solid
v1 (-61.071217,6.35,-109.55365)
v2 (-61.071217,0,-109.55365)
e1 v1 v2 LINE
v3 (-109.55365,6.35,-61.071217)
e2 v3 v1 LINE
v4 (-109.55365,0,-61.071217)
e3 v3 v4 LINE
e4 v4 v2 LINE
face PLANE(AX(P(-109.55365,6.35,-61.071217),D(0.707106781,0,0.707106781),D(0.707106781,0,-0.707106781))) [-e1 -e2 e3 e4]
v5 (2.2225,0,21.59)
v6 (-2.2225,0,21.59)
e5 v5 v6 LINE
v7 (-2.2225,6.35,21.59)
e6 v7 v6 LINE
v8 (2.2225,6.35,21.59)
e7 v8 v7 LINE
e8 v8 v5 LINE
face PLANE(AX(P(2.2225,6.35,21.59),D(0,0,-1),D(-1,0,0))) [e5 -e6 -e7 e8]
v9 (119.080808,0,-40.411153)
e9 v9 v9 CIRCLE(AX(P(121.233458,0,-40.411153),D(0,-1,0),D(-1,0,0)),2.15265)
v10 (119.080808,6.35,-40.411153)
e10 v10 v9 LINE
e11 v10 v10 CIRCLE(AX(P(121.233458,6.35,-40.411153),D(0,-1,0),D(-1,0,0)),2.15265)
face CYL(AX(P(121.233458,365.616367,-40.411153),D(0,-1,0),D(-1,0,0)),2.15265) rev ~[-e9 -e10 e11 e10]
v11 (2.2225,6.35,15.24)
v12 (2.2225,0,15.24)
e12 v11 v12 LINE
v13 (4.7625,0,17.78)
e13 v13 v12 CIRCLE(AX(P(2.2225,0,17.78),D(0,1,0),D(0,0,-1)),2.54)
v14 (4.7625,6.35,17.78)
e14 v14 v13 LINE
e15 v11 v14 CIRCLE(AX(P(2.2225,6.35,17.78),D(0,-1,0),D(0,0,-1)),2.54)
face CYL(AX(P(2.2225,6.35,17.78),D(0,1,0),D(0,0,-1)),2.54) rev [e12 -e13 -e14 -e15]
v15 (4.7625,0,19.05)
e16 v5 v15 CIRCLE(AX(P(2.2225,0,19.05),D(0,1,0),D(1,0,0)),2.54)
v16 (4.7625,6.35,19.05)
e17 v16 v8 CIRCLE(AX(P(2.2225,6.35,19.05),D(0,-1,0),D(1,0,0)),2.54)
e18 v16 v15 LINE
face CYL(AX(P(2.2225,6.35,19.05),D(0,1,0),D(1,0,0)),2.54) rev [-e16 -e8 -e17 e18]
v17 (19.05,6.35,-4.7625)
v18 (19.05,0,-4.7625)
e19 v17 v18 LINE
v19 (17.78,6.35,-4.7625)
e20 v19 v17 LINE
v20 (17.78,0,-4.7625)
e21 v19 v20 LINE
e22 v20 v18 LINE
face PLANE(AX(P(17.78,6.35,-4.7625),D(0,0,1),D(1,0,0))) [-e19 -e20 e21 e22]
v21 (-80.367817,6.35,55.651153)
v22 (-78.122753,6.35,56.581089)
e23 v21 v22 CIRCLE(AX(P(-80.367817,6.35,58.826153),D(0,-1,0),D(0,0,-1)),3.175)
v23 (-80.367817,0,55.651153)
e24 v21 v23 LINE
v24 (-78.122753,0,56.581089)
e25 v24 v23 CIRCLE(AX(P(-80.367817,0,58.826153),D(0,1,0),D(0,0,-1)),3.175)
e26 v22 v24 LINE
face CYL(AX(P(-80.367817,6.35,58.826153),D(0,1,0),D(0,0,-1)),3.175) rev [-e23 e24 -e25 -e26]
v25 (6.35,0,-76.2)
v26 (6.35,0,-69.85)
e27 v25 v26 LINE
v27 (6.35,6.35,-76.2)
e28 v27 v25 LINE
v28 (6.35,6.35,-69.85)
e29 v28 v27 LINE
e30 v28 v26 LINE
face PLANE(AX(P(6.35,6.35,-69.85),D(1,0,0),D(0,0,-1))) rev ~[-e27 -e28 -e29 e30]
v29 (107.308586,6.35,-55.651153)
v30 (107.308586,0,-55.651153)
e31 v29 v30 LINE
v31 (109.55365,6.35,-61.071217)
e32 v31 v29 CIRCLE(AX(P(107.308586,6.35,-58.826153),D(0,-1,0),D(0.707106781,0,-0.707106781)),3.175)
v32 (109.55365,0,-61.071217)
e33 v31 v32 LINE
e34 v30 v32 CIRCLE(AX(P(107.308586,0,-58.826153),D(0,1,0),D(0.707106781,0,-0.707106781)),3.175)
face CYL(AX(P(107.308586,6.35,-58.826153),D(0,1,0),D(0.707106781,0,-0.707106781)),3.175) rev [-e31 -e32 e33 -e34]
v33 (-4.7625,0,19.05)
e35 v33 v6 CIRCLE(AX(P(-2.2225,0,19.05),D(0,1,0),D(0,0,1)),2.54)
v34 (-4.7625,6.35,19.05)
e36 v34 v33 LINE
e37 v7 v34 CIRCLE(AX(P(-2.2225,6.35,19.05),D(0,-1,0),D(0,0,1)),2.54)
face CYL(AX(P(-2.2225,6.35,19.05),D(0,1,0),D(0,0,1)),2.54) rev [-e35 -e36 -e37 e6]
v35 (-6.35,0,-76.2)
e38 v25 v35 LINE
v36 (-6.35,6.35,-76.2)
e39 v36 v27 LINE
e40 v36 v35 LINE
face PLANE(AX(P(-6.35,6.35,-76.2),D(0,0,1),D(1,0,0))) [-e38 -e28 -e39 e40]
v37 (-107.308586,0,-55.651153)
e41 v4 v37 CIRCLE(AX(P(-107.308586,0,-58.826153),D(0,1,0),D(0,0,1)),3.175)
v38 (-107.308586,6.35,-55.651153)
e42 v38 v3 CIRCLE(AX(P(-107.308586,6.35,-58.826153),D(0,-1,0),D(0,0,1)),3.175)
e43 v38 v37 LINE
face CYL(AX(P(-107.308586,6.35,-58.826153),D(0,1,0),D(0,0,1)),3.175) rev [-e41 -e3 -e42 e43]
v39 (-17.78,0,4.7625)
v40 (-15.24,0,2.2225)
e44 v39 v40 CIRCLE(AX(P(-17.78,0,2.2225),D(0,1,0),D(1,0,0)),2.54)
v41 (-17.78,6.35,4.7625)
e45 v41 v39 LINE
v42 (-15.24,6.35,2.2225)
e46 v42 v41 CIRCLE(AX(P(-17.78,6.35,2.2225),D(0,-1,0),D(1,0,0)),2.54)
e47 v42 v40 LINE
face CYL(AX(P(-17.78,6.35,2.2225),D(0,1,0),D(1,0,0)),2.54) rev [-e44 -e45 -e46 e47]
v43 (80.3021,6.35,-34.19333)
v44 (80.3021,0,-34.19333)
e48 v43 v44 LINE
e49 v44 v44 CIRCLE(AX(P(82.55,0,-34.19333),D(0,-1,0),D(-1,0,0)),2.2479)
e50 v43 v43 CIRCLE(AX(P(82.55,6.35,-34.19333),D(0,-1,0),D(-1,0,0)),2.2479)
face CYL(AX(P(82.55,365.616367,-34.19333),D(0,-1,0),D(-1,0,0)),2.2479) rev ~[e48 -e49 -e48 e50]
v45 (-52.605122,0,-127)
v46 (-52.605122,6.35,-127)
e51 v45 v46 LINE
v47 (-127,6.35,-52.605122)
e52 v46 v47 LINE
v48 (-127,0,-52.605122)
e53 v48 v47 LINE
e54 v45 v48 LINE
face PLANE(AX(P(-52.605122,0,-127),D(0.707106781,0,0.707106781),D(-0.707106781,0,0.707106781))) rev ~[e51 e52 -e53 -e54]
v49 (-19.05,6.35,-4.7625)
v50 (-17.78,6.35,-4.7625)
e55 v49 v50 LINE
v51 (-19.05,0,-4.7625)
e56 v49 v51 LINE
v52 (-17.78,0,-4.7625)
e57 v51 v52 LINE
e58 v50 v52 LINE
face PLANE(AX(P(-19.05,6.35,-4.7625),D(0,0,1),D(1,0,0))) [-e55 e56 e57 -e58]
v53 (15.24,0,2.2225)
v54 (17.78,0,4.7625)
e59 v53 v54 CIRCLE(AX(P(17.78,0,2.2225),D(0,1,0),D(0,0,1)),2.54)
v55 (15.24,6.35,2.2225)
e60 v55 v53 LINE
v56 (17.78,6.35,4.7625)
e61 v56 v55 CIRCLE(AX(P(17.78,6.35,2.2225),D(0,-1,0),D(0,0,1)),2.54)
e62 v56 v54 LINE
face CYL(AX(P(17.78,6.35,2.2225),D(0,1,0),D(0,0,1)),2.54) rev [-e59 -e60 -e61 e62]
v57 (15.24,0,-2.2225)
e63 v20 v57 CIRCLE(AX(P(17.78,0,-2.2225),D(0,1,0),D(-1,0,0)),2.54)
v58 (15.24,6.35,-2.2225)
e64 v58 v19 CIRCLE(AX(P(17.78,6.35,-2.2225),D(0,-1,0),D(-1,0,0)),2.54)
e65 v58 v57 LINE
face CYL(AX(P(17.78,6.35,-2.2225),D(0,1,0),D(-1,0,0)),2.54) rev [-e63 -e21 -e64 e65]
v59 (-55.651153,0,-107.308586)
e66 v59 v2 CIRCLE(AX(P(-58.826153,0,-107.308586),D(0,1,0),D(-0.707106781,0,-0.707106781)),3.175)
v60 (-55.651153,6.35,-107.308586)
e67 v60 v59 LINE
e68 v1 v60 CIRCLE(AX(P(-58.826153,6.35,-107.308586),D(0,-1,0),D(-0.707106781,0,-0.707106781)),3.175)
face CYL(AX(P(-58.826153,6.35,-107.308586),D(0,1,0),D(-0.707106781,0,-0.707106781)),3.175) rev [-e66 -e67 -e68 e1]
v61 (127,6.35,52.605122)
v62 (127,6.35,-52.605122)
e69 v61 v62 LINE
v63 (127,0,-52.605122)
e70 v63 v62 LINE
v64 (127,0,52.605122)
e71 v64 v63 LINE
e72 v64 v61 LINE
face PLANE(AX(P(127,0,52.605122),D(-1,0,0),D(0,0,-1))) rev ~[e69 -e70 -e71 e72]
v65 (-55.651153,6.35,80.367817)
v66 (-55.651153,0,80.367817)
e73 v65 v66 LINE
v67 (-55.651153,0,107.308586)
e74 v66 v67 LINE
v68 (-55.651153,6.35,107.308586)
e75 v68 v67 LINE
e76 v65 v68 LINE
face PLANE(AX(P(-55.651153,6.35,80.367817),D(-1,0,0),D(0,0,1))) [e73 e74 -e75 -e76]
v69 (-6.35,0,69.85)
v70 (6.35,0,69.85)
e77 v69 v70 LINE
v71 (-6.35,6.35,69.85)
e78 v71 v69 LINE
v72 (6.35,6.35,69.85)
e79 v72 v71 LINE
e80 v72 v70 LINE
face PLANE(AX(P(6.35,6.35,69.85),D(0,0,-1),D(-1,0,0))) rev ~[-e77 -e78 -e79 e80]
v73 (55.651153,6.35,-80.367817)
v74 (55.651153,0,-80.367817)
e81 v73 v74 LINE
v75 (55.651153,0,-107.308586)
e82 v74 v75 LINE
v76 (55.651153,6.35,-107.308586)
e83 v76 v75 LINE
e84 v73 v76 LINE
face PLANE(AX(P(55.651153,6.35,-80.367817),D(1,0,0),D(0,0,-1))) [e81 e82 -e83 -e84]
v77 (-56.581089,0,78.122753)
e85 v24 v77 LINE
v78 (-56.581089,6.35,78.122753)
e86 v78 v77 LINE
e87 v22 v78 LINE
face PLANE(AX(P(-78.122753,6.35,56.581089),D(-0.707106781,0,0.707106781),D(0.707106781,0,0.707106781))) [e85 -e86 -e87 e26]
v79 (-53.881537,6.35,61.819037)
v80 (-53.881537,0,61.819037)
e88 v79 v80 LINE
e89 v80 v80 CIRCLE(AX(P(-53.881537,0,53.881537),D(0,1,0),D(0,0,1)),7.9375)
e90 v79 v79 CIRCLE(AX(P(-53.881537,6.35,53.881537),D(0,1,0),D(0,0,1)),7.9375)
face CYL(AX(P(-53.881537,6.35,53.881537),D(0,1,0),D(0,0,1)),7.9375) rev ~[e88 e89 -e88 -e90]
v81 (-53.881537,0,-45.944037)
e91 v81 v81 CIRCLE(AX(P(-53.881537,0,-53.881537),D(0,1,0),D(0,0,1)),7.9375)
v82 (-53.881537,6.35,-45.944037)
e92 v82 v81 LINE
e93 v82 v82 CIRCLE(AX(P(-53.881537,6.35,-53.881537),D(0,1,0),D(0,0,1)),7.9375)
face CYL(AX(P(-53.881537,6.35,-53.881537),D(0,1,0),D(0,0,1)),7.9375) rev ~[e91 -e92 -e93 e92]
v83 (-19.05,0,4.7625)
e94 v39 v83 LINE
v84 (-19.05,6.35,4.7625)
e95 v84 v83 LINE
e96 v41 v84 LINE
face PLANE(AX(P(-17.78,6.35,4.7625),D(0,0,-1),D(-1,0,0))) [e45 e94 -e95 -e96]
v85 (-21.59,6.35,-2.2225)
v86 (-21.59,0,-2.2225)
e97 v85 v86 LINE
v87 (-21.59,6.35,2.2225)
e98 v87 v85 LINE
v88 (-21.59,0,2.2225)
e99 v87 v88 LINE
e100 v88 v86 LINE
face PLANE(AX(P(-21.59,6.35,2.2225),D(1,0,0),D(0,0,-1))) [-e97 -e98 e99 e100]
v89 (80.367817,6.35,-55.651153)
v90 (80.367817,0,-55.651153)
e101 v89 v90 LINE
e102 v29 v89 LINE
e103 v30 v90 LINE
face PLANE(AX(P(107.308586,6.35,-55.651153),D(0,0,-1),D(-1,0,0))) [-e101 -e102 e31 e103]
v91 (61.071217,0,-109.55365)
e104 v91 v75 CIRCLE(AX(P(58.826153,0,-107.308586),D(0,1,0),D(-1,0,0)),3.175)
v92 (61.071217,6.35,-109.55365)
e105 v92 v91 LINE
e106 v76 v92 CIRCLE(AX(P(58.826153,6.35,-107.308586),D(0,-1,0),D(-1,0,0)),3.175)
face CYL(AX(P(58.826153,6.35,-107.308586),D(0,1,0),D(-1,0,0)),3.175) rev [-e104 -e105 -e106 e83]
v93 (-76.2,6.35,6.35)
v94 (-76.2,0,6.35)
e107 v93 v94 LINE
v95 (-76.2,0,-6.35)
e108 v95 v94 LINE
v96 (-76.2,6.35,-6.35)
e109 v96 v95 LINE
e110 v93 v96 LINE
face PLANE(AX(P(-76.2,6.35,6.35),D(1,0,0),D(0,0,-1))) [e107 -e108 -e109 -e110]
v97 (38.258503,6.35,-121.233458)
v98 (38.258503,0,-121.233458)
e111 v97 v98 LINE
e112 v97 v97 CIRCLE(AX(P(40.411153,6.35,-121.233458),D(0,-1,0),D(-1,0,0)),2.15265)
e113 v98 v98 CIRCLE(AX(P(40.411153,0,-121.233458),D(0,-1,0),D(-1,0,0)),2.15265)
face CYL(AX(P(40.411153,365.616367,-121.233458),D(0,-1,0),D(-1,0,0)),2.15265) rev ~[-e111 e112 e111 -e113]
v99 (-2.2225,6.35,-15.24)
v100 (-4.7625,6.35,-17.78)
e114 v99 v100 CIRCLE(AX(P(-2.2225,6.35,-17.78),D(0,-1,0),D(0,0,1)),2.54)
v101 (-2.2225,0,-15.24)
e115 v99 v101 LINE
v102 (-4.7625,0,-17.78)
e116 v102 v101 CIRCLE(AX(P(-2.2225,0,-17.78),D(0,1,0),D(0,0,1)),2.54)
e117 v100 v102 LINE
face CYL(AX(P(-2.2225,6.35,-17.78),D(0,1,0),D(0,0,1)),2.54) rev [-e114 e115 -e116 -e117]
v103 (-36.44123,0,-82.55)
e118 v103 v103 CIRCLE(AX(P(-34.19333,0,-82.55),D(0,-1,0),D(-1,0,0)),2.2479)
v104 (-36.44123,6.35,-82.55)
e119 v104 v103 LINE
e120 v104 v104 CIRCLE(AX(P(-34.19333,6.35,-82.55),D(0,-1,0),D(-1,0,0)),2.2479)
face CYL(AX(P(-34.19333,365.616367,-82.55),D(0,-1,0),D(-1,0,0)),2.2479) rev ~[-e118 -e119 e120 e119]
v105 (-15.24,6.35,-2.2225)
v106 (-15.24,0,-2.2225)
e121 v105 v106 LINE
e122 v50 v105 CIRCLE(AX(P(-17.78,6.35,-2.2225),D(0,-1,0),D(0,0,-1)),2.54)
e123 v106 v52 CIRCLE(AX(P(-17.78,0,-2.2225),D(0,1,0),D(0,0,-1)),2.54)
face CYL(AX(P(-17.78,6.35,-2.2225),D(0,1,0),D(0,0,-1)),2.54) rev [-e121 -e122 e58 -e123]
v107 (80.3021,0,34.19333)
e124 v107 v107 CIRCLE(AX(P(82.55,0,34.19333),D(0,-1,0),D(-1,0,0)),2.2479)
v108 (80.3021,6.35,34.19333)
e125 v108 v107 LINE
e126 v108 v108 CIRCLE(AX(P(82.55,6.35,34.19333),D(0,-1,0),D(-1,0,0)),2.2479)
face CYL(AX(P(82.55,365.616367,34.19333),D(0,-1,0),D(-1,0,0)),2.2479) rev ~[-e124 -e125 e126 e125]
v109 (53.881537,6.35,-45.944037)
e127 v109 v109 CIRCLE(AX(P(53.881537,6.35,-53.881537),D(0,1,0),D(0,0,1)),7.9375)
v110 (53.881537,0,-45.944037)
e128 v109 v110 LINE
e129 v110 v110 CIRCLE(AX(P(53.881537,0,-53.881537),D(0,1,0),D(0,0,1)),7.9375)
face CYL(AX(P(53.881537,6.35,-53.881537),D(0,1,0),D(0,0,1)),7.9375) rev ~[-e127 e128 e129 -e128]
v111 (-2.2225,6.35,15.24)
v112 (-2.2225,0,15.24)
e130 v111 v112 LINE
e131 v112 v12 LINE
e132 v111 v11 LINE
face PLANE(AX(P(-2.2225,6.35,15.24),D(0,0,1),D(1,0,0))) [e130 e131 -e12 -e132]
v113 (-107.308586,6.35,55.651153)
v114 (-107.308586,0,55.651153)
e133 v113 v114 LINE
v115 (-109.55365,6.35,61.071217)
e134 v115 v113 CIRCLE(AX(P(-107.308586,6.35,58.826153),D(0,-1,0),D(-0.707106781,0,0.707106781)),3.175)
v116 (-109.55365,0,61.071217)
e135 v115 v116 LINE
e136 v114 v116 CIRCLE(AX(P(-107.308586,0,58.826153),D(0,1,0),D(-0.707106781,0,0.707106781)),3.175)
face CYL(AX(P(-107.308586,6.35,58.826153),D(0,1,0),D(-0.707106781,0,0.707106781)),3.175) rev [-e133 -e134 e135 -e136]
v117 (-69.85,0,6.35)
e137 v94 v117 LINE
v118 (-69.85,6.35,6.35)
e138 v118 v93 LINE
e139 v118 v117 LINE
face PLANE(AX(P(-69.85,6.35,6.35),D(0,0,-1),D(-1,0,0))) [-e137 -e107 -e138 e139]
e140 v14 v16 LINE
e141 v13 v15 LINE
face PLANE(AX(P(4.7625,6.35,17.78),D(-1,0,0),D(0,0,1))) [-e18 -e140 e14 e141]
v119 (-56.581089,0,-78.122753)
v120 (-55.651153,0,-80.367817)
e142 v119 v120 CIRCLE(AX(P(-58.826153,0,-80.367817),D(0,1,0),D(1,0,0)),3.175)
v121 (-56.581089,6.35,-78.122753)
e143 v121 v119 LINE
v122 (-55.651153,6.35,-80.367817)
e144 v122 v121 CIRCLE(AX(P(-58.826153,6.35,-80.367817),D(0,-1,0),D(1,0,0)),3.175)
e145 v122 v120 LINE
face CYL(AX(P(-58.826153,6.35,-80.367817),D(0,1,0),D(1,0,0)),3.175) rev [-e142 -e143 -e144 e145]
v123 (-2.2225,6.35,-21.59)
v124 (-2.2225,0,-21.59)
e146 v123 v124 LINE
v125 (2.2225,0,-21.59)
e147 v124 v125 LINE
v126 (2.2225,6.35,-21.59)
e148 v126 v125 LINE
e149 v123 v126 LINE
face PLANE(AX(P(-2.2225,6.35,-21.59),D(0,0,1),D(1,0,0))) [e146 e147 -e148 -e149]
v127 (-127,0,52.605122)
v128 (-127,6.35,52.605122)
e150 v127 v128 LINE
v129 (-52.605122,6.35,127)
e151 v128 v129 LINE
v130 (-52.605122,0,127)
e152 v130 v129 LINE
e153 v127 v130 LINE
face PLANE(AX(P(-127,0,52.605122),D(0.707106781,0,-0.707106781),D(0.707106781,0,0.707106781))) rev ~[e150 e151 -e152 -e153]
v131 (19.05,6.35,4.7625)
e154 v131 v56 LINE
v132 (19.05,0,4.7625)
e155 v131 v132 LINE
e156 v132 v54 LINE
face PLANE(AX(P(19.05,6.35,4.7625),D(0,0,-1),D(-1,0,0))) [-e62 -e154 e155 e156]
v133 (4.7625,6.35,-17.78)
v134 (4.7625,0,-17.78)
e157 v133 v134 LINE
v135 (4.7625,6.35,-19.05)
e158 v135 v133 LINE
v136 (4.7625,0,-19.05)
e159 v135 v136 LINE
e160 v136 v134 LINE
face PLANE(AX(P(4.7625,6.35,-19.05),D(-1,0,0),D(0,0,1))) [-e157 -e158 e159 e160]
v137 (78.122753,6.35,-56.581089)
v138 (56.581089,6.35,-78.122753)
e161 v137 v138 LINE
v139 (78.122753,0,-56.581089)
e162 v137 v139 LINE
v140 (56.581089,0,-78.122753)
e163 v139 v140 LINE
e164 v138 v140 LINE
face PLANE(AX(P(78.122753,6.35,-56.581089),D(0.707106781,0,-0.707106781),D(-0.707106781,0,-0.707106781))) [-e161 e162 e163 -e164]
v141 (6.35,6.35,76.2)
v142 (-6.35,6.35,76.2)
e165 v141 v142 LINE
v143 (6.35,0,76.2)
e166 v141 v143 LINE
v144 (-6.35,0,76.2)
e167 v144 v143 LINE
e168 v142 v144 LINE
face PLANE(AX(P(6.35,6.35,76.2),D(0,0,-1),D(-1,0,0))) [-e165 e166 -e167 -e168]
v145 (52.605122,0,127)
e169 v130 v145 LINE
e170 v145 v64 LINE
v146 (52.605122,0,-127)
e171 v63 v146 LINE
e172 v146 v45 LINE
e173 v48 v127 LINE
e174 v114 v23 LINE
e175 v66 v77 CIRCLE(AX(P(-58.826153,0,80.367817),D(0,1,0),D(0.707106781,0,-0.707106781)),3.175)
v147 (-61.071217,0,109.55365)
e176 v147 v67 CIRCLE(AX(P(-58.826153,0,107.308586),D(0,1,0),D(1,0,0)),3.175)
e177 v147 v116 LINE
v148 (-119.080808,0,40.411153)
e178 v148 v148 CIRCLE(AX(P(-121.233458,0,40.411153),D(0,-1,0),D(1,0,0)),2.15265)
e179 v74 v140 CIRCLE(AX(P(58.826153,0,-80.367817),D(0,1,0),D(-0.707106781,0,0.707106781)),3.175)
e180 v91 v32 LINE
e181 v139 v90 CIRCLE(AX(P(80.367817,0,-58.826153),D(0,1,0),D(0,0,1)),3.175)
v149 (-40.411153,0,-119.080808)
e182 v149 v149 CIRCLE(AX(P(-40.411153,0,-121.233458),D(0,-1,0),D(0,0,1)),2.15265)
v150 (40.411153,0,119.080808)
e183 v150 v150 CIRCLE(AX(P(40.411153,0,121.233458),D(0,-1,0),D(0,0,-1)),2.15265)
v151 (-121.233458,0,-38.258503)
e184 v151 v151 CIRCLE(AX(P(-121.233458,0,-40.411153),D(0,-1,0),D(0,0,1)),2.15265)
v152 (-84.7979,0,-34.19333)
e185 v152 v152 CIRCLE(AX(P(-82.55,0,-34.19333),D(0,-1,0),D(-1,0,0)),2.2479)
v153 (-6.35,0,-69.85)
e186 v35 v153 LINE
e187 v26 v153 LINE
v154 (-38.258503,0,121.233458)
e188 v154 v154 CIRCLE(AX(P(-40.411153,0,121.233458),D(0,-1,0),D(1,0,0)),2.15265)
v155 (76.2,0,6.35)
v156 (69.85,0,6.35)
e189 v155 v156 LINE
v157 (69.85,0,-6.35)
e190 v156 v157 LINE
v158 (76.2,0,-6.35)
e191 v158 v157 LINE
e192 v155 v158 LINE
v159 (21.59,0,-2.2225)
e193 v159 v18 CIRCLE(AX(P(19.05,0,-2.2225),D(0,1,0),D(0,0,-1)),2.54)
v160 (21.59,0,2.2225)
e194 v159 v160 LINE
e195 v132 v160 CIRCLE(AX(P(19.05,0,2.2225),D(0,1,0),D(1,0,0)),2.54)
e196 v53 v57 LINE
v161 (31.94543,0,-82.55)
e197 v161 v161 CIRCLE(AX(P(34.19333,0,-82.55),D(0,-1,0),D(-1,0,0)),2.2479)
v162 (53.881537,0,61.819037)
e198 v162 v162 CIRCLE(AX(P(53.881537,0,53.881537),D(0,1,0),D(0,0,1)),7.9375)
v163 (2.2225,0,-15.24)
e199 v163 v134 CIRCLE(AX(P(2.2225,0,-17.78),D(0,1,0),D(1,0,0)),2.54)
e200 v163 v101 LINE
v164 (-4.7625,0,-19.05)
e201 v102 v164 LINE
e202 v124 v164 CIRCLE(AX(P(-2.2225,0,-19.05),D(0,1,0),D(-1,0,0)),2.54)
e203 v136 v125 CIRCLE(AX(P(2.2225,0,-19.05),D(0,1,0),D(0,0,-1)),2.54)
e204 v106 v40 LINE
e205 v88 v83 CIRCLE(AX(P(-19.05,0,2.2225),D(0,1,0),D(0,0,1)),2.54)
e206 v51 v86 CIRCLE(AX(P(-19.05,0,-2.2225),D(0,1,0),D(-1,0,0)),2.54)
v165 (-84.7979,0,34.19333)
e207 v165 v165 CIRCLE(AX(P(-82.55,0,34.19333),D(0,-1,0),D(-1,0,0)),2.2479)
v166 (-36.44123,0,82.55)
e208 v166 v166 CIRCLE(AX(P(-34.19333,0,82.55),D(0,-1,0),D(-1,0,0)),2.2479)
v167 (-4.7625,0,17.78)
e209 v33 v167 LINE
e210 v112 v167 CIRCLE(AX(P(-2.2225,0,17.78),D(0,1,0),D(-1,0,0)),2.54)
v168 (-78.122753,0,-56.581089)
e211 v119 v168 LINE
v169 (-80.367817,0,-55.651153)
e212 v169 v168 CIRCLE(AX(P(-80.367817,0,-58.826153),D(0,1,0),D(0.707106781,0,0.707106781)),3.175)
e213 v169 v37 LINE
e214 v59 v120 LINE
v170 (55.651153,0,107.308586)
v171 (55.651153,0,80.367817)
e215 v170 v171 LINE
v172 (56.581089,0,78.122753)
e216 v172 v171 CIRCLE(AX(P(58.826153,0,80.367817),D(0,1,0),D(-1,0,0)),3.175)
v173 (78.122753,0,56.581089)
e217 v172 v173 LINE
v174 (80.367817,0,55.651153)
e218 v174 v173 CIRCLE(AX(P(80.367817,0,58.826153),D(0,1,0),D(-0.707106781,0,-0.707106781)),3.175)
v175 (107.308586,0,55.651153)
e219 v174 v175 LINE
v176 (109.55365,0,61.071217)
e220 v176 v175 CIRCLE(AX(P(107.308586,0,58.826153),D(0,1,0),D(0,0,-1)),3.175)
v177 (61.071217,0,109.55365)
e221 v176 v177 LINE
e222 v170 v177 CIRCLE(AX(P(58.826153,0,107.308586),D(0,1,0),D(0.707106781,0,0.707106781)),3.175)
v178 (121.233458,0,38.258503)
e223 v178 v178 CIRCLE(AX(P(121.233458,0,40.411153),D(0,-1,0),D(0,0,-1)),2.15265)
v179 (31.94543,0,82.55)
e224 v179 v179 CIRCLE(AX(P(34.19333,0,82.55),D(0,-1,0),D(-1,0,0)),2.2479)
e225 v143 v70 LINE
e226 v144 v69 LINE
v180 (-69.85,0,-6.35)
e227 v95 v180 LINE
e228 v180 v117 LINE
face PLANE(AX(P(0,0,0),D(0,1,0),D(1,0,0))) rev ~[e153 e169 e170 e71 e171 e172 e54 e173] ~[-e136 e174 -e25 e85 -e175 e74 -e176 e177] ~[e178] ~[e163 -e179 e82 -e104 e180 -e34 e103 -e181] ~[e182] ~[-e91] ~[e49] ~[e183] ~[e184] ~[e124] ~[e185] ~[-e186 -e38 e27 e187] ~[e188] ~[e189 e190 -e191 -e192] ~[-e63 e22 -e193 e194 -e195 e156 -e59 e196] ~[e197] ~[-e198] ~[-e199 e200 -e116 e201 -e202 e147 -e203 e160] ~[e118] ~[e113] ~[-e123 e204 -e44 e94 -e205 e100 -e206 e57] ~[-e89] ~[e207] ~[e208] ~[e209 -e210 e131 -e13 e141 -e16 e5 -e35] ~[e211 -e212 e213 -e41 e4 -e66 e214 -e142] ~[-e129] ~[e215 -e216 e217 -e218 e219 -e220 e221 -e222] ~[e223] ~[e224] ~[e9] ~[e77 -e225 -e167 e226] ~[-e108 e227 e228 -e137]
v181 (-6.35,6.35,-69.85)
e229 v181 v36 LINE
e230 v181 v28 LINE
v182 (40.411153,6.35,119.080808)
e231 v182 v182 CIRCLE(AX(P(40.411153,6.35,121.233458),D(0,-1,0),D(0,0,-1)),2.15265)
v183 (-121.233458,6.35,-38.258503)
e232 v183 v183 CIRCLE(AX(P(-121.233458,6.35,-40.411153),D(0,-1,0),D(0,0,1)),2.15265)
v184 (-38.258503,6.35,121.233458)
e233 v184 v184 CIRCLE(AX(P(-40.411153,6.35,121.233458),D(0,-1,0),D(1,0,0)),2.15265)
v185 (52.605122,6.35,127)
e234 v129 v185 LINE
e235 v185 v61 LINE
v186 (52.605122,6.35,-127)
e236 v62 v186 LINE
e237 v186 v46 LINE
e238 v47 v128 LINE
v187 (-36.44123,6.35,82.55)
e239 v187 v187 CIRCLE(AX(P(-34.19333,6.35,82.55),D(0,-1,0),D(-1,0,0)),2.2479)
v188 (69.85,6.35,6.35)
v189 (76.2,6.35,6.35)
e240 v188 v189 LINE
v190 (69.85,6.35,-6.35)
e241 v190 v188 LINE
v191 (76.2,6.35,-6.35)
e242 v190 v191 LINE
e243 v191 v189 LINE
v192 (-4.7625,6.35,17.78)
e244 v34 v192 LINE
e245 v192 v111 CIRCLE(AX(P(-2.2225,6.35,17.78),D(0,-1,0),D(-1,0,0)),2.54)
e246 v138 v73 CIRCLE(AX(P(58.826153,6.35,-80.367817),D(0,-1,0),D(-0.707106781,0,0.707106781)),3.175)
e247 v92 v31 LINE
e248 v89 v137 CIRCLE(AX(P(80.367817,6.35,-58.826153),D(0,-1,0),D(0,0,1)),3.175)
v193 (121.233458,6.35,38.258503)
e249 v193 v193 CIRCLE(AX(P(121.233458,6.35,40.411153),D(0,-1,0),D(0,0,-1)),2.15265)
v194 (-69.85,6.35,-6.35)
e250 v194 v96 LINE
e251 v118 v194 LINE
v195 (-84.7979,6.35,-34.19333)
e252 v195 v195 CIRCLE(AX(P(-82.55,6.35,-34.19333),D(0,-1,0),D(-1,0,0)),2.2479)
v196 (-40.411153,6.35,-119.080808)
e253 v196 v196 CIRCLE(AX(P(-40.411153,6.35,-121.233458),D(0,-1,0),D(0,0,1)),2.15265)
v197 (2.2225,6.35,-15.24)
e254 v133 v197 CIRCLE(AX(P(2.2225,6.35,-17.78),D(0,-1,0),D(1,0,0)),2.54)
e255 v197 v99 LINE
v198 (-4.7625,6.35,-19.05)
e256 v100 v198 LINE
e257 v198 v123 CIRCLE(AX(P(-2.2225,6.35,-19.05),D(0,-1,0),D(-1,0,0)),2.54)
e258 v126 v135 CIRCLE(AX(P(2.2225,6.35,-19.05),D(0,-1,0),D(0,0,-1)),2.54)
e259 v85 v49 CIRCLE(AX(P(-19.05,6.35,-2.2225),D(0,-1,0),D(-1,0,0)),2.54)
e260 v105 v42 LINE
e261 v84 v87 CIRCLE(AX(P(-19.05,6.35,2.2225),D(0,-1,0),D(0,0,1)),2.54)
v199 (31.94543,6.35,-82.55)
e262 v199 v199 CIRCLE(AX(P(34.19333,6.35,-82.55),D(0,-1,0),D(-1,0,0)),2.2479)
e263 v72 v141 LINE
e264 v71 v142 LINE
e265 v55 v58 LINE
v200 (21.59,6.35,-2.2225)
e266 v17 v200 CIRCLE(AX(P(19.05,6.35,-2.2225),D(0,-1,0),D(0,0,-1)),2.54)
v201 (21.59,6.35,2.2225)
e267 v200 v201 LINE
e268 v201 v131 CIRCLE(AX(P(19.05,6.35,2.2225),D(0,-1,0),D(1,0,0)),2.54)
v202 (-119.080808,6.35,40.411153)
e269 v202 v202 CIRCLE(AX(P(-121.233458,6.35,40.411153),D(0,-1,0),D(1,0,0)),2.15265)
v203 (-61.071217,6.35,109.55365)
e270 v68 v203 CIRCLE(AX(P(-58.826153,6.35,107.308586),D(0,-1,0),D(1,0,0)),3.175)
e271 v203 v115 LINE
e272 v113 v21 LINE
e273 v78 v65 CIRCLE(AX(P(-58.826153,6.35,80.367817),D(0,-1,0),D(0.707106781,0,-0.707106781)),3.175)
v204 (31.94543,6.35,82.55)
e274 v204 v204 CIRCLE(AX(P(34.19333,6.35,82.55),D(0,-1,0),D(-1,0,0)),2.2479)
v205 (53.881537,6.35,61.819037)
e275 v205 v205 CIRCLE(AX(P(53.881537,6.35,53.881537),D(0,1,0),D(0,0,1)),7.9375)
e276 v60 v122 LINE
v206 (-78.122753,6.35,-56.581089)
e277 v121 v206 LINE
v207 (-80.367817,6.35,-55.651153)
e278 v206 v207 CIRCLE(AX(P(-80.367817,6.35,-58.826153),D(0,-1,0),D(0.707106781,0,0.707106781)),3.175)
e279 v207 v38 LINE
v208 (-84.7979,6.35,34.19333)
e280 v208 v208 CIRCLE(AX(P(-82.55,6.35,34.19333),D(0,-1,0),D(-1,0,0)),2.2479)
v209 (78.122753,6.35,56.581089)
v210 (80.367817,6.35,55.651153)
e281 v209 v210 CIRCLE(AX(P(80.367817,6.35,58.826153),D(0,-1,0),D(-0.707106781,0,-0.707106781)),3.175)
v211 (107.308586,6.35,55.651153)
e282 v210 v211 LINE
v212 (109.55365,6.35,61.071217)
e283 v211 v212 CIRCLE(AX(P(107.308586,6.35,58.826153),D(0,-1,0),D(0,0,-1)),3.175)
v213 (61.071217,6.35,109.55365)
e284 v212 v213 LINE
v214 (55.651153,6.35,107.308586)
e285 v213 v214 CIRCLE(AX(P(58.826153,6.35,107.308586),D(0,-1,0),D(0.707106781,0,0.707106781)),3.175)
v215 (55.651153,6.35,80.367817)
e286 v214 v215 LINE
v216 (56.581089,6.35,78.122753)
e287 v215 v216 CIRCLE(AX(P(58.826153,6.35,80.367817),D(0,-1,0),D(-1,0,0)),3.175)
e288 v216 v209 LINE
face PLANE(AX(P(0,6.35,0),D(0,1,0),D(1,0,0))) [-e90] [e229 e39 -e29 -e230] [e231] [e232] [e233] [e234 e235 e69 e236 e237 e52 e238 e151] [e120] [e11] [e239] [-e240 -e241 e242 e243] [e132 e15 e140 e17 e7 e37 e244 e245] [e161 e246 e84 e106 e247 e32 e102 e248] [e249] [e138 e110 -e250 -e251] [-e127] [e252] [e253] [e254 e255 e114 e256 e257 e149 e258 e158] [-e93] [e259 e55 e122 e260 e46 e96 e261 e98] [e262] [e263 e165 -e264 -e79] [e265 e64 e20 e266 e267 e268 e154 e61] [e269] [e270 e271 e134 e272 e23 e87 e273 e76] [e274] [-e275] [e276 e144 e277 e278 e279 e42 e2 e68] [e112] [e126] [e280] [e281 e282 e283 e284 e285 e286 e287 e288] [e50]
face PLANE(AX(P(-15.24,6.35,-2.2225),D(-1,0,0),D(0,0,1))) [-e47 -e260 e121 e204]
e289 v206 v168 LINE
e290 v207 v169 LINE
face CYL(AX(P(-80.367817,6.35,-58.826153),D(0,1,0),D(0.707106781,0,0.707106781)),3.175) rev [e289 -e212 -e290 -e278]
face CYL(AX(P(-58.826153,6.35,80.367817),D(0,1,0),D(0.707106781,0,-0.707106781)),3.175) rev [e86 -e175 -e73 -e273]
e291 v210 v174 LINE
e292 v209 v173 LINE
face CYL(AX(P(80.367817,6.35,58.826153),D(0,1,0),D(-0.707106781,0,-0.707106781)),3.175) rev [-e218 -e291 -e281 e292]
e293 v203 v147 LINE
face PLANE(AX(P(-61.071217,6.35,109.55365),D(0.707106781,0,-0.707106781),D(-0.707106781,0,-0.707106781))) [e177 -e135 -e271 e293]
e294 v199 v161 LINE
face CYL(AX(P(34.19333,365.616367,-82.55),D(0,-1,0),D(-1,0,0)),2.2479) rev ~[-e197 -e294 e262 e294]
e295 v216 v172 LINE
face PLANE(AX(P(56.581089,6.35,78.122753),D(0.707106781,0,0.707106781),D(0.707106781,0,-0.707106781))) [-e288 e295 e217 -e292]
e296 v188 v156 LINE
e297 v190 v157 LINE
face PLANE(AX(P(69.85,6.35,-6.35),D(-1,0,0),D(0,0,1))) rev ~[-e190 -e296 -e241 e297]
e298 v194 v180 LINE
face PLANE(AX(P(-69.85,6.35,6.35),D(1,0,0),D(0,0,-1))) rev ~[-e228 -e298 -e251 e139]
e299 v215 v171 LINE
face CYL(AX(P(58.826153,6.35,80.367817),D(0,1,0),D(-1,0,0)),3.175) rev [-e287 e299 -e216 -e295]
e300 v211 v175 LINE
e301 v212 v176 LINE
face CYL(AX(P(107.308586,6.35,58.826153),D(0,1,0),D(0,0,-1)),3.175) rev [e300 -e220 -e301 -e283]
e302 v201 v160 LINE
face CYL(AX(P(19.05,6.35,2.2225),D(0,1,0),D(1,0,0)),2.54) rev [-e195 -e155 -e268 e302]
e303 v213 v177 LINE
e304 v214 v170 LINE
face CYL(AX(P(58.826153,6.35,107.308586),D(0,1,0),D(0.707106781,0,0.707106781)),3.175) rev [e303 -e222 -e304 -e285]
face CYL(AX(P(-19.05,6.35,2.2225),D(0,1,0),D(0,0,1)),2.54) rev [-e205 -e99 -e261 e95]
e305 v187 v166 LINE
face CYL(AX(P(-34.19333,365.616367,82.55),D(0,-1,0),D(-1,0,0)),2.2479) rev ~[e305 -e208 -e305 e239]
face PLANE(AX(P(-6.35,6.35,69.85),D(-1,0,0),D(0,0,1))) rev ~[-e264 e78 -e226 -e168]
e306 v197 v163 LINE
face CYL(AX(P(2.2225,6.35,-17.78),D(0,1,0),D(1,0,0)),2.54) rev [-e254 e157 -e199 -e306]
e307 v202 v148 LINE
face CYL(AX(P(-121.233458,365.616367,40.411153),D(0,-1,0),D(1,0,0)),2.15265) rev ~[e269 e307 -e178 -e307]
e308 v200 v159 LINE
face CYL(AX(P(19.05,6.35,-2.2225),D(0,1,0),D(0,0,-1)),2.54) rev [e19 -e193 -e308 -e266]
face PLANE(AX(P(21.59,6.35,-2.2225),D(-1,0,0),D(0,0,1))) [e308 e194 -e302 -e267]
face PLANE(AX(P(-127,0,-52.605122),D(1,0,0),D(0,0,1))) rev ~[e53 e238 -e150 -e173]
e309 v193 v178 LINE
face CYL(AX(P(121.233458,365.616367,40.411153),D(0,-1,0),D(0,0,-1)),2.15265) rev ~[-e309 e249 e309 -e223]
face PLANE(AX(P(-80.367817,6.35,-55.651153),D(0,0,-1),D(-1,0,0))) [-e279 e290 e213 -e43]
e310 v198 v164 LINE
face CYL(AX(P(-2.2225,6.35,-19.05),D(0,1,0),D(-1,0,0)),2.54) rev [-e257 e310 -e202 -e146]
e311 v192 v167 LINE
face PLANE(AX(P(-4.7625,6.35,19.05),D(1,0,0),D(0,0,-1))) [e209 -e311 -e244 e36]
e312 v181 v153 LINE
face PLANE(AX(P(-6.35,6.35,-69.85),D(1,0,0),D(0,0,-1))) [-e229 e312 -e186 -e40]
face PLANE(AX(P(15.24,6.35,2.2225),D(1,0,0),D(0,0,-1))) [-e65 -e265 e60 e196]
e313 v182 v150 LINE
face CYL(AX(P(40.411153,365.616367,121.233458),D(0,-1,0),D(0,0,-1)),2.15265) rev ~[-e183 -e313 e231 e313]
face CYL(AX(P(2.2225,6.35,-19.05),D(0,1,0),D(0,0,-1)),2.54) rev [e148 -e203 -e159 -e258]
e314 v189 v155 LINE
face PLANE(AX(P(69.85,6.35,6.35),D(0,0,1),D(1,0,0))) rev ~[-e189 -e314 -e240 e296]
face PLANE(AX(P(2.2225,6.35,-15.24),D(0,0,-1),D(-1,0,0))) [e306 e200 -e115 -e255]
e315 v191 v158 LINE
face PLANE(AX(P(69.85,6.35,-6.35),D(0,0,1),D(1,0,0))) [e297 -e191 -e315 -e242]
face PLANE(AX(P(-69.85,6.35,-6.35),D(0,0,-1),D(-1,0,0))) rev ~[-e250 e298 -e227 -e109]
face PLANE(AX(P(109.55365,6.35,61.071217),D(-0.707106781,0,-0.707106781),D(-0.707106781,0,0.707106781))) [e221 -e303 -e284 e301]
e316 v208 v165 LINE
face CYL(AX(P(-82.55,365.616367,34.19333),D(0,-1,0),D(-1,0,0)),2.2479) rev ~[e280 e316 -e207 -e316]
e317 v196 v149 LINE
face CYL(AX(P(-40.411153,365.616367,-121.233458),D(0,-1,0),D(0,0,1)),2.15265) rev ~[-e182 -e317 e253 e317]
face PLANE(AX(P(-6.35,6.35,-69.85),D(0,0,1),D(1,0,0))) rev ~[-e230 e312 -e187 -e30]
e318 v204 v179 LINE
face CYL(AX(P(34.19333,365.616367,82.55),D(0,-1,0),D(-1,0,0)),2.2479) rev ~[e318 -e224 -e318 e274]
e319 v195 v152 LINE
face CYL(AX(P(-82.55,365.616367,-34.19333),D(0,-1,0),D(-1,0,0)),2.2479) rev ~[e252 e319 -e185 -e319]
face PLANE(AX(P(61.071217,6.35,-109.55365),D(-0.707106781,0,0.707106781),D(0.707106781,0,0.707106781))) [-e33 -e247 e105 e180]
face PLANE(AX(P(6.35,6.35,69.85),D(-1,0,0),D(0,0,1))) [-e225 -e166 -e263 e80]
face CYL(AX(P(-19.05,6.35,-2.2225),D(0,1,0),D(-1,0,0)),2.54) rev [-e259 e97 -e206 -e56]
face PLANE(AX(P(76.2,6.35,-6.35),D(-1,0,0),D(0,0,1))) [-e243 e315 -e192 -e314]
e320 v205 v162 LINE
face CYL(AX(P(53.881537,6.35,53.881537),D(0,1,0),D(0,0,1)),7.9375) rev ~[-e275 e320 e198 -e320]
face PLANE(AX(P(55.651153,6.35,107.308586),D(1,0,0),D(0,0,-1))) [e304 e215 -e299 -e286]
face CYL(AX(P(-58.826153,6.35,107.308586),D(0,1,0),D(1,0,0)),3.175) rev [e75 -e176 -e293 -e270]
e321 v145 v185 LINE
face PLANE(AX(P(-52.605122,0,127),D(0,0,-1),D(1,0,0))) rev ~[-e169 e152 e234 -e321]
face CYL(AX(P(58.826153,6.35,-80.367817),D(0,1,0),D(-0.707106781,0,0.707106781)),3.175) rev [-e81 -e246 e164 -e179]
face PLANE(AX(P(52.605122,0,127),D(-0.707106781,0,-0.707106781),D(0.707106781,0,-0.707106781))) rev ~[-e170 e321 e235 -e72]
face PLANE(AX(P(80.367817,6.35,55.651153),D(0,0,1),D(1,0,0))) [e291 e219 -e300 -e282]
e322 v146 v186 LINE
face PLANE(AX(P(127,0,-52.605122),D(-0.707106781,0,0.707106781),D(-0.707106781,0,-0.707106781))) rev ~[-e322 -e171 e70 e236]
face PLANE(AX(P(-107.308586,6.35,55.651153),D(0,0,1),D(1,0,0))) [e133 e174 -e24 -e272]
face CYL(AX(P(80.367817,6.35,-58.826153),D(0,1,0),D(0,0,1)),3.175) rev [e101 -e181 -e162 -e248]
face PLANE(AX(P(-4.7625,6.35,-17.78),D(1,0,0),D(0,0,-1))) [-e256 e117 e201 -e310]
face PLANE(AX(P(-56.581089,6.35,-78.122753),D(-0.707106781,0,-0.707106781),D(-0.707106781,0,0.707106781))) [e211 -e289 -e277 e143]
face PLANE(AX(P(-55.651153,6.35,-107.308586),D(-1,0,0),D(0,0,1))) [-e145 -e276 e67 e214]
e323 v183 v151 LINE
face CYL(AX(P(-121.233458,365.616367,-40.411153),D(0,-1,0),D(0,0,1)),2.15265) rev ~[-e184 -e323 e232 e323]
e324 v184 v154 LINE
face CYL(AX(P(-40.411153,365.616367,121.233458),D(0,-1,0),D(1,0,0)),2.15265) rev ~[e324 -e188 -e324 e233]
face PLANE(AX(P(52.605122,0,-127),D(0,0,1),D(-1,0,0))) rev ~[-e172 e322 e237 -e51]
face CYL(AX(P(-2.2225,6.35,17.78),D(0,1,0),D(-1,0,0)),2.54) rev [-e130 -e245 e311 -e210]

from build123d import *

# Parameters (mm, degrees)
BASE_DEPTH                   = 6.35
SUPPORT_CUTOUTS_REACH        = 181.717
SKETCH4_W                    = 12.7
SKETCH4_H                    = 6.35
SUPPORT_CUTOUT_PATTERN_COUNT = 4
F_8_CLEARANCE_HOLE1_D        = 4.4958
CABLE_HOLES_REACH            = 181.717
SKETCH14_R                   = 7.9375
ALIGNER_MOUNTING_HOLES_D     = 4.3053
CIRPATTERN1_COUNT            = 4
CUT_EXTRUDE2_DEPTH           = 180.717340566
CUT_EXTRUDE3_DEPTH           = 180.717340566


with BuildPart() as part:
    # Base sketch → Base (new body)
    with BuildSketch(Plane(origin=(0, 0, 0), x_dir=(1, 0, 0), z_dir=(0, 1, 0))):
        Polygon((-127, 52.605122421), (-127, -52.605122421), (-52.605122421, -127), (52.605122421, -127), (127, -52.605122421), (127, 52.605122421), (52.605122421, 127), (-52.605122421, 127), align=None)
    extrude(amount=BASE_DEPTH)

    # Sketch4 → Support cutouts (cut, up to next)
    with BuildSketch(Plane(origin=(0, 6.35, 0), x_dir=(1, 0, 0), z_dir=(0, 1, 0)), mode=Mode.PRIVATE) as support_cutouts_sk1:
        with Locations((0, 73.025)):
            Rectangle(SKETCH4_W, SKETCH4_H)
    support_cutouts_tool1 = extrude(support_cutouts_sk1.sketch, amount=-SUPPORT_CUTOUTS_REACH, mode=Mode.PRIVATE) & part.part
    support_cutouts = support_cutouts_tool1.solids().sort_by_distance((0, 6.35, -73.025))[0]
    add(support_cutouts, mode=Mode.SUBTRACT)

    # Support cutout pattern: Support cutouts ×4 about axis
    support_cutout_pattern_axis = Axis((0, -0.29972, 0), (0, 1, 0))
    for i in range(1, SUPPORT_CUTOUT_PATTERN_COUNT):
        add(support_cutouts.rotate(support_cutout_pattern_axis, i * 360 / SUPPORT_CUTOUT_PATTERN_COUNT), mode=Mode.SUBTRACT)

    # #8 Clearance Hole1 (through all)
    with Locations(Plane(origin=(0, 6.35, 0), x_dir=(1, 0, 0), z_dir=(0, 1, 0))):
        with Locations((-82.55, 34.193329574), (-34.193329574, 82.55), (34.193329574, 82.55), (82.55, 34.193329574), (82.55, -34.193329574), (34.193329574, -82.55), (-34.193329574, -82.55), (-82.55, -34.193329574)):
            Hole(F_8_CLEARANCE_HOLE1_D / 2)

    # Sketch14 → Cable holes (cut, up to next)
    with BuildSketch(Plane(origin=(0, 6.35, 0), x_dir=(1, 0, 0), z_dir=(0, 1, 0)), mode=Mode.PRIVATE) as cable_holes_sk1:
        with Locations((-53.881536726, 53.881536726)):
            Circle(SKETCH14_R)
    cable_holes_tool1 = extrude(cable_holes_sk1.sketch, amount=-CABLE_HOLES_REACH, mode=Mode.PRIVATE) & part.part
    # Sketch14 → Cable holes (cut, up to next)
    with BuildSketch(Plane(origin=(0, 6.35, 0), x_dir=(1, 0, 0), z_dir=(0, 1, 0)), mode=Mode.PRIVATE) as cable_holes_sk2:
        with Locations((53.881536726, 53.881536726)):
            Circle(SKETCH14_R)
    cable_holes_tool2 = extrude(cable_holes_sk2.sketch, amount=-CABLE_HOLES_REACH, mode=Mode.PRIVATE) & part.part
    # Sketch14 → Cable holes (cut, up to next)
    with BuildSketch(Plane(origin=(0, 6.35, 0), x_dir=(1, 0, 0), z_dir=(0, 1, 0)), mode=Mode.PRIVATE) as cable_holes_sk3:
        with Locations((53.881536726, -53.881536726)):
            Circle(SKETCH14_R)
    cable_holes_tool3 = extrude(cable_holes_sk3.sketch, amount=-CABLE_HOLES_REACH, mode=Mode.PRIVATE) & part.part
    # Sketch14 → Cable holes (cut, up to next)
    with BuildSketch(Plane(origin=(0, 6.35, 0), x_dir=(1, 0, 0), z_dir=(0, 1, 0)), mode=Mode.PRIVATE) as cable_holes_sk4:
        with Locations((-53.881536726, -53.881536726)):
            Circle(SKETCH14_R)
    cable_holes_tool4 = extrude(cable_holes_sk4.sketch, amount=-CABLE_HOLES_REACH, mode=Mode.PRIVATE) & part.part
    add(cable_holes_tool1.solids().sort_by_distance((-53.881537, 6.35, -53.881537))[0], mode=Mode.SUBTRACT)
    add(cable_holes_tool2.solids().sort_by_distance((53.881537, 6.35, -53.881537))[0], mode=Mode.SUBTRACT)
    add(cable_holes_tool3.solids().sort_by_distance((53.881537, 6.35, 53.881537))[0], mode=Mode.SUBTRACT)
    add(cable_holes_tool4.solids().sort_by_distance((-53.881537, 6.35, 53.881537))[0], mode=Mode.SUBTRACT)

    # aligner mounting holes (through all)
    with Locations(Plane(origin=(0, 6.35, 0), x_dir=(1, 0, 0), z_dir=(0, 1, 0))):
        with Locations((121.233457634, 40.411152545), (40.411152545, 121.233457634)):
            aligner_mounting_holes = Hole(ALIGNER_MOUNTING_HOLES_D / 2)

    # CirPattern1: aligner mounting holes ×4 about axis
    cirpattern1_axis = Axis((0, -0.29972, 0), (0, 1, 0))
    for i in range(1, CIRPATTERN1_COUNT):
        add(aligner_mounting_holes.rotate(cirpattern1_axis, i * 360 / CIRPATTERN1_COUNT), mode=Mode.SUBTRACT)

    # Sketch28 → Cut-Extrude2 (cut, through all)
    with BuildSketch(Plane(origin=(0, 6.35, 0), x_dir=(1, 0, 0), z_dir=(0, 1, 0))):
        with BuildLine():
            Line((55.651152545, 80.367817332), (55.651152545, 107.308585695))
            ThreePointArc((55.651152545, 107.308585695), (57.611132647, 110.241903211), (61.071216575, 109.553649725))
            Line((61.071216575, 109.553649725), (109.553649725, 61.071216575))
            ThreePointArc((109.553649725, 61.071216575), (110.241903211, 57.611132647), (107.308585695, 55.651152545))
            Line((107.308585695, 55.651152545), (80.367817332, 55.651152545))
            ThreePointArc((80.367817332, 55.651152545), (79.152797434, 55.892835029), (78.122753301, 56.581088515))
            Line((78.122753301, 56.581088515), (56.581088515, 78.122753301))
            ThreePointArc((56.581088515, 78.122753301), (55.892835029, 79.152797434), (55.651152545, 80.367817332))
        make_face()
        with BuildLine():
            Line((80.367817332, -55.651152545), (107.308585695, -55.651152545))
            ThreePointArc((107.308585695, -55.651152545), (110.241903211, -57.611132647), (109.553649725, -61.071216575))
            Line((109.553649725, -61.071216575), (61.071216575, -109.553649725))
            ThreePointArc((61.071216575, -109.553649725), (57.611132647, -110.241903211), (55.651152545, -107.308585695))
            Line((55.651152545, -107.308585695), (55.651152545, -80.367817332))
            ThreePointArc((55.651152545, -80.367817332), (55.892835029, -79.152797434), (56.581088515, -78.122753301))
            Line((56.581088515, -78.122753301), (78.122753301, -56.581088515))
            ThreePointArc((78.122753301, -56.581088515), (79.152797434, -55.892835029), (80.367817332, -55.651152545))
        make_face()
        with BuildLine():
            Line((-55.651152545, -80.367817332), (-55.651152545, -107.308585695))
            ThreePointArc((-55.651152545, -107.308585695), (-57.611132647, -110.241903211), (-61.071216575, -109.553649725))
            Line((-61.071216575, -109.553649725), (-109.553649725, -61.071216575))
            ThreePointArc((-109.553649725, -61.071216575), (-110.241903211, -57.611132647), (-107.308585695, -55.651152545))
            Line((-107.308585695, -55.651152545), (-80.367817332, -55.651152545))
            ThreePointArc((-80.367817332, -55.651152545), (-79.152797434, -55.892835029), (-78.122753301, -56.581088515))
            Line((-78.122753301, -56.581088515), (-56.581088515, -78.122753301))
            ThreePointArc((-56.581088515, -78.122753301), (-55.892835029, -79.152797434), (-55.651152545, -80.367817332))
        make_face()
        with BuildLine():
            Line((-56.581088515, 78.122753301), (-78.122753301, 56.581088515))
            ThreePointArc((-78.122753301, 56.581088515), (-79.152797434, 55.892835029), (-80.367817332, 55.651152545))
            Line((-80.367817332, 55.651152545), (-107.308585695, 55.651152545))
            ThreePointArc((-107.308585695, 55.651152545), (-110.241903211, 57.611132647), (-109.553649725, 61.071216575))
            Line((-109.553649725, 61.071216575), (-61.071216575, 109.553649725))
            ThreePointArc((-61.071216575, 109.553649725), (-57.611132647, 110.241903211), (-55.651152545, 107.308585695))
            Line((-55.651152545, 107.308585695), (-55.651152545, 80.367817332))
            ThreePointArc((-55.651152545, 80.367817332), (-55.892835029, 79.152797434), (-56.581088515, 78.122753301))
        make_face()
    extrude(amount=-CUT_EXTRUDE2_DEPTH, mode=Mode.SUBTRACT)

    # Sketch29 → Cut-Extrude3 (cut, through all)
    with BuildSketch(Plane(origin=(0, 6.35, 0), x_dir=(1, 0, 0), z_dir=(0, 1, 0))):
        with BuildLine():
            Line((15.24, -2.2225), (15.24, 2.2225))
            ThreePointArc((15.24, 2.2225), (15.983948776, 4.018551224), (17.78, 4.7625))
            Line((17.78, 4.7625), (19.05, 4.7625))
            ThreePointArc((19.05, 4.7625), (20.846051224, 4.018551224), (21.59, 2.2225))
            Line((21.59, 2.2225), (21.59, -2.2225))
            ThreePointArc((21.59, -2.2225), (20.846051224, -4.018551224), (19.05, -4.7625))
            Line((19.05, -4.7625), (17.78, -4.7625))
            ThreePointArc((17.78, -4.7625), (15.983948776, -4.018551224), (15.24, -2.2225))
        make_face()
        with BuildLine():
            Line((2.2225, 15.24), (-2.2225, 15.24))
            ThreePointArc((-2.2225, 15.24), (-4.018551224, 15.983948776), (-4.7625, 17.78))
            Line((-4.7625, 17.78), (-4.7625, 19.05))
            ThreePointArc((-4.7625, 19.05), (-4.018551224, 20.846051224), (-2.2225, 21.59))
            Line((-2.2225, 21.59), (2.2225, 21.59))
            ThreePointArc((2.2225, 21.59), (4.018551224, 20.846051224), (4.7625, 19.05))
            Line((4.7625, 19.05), (4.7625, 17.78))
            ThreePointArc((4.7625, 17.78), (4.018551224, 15.983948776), (2.2225, 15.24))
        make_face()
        with BuildLine():
            Line((-2.2225, -15.24), (2.2225, -15.24))
            ThreePointArc((2.2225, -15.24), (4.018551224, -15.983948776), (4.7625, -17.78))
            Line((4.7625, -17.78), (4.7625, -19.05))
            ThreePointArc((4.7625, -19.05), (4.018551224, -20.846051224), (2.2225, -21.59))
            Line((2.2225, -21.59), (-2.2225, -21.59))
            ThreePointArc((-2.2225, -21.59), (-4.018551224, -20.846051224), (-4.7625, -19.05))
            Line((-4.7625, -19.05), (-4.7625, -17.78))
            ThreePointArc((-4.7625, -17.78), (-4.018551224, -15.983948776), (-2.2225, -15.24))
        make_face()
        with BuildLine():
            Line((-15.24, 2.2225), (-15.24, -2.2225))
            ThreePointArc((-15.24, -2.2225), (-15.983948776, -4.018551224), (-17.78, -4.7625))
            Line((-17.78, -4.7625), (-19.05, -4.7625))
            ThreePointArc((-19.05, -4.7625), (-20.846051224, -4.018551224), (-21.59, -2.2225))
            Line((-21.59, -2.2225), (-21.59, 2.2225))
            ThreePointArc((-21.59, 2.2225), (-20.846051224, 4.018551224), (-19.05, 4.7625))
            Line((-19.05, 4.7625), (-17.78, 4.7625))
            ThreePointArc((-17.78, 4.7625), (-15.983948776, 4.018551224), (-15.24, 2.2225))
        make_face()
    extrude(amount=-CUT_EXTRUDE3_DEPTH, mode=Mode.SUBTRACT)


solid = part.part
